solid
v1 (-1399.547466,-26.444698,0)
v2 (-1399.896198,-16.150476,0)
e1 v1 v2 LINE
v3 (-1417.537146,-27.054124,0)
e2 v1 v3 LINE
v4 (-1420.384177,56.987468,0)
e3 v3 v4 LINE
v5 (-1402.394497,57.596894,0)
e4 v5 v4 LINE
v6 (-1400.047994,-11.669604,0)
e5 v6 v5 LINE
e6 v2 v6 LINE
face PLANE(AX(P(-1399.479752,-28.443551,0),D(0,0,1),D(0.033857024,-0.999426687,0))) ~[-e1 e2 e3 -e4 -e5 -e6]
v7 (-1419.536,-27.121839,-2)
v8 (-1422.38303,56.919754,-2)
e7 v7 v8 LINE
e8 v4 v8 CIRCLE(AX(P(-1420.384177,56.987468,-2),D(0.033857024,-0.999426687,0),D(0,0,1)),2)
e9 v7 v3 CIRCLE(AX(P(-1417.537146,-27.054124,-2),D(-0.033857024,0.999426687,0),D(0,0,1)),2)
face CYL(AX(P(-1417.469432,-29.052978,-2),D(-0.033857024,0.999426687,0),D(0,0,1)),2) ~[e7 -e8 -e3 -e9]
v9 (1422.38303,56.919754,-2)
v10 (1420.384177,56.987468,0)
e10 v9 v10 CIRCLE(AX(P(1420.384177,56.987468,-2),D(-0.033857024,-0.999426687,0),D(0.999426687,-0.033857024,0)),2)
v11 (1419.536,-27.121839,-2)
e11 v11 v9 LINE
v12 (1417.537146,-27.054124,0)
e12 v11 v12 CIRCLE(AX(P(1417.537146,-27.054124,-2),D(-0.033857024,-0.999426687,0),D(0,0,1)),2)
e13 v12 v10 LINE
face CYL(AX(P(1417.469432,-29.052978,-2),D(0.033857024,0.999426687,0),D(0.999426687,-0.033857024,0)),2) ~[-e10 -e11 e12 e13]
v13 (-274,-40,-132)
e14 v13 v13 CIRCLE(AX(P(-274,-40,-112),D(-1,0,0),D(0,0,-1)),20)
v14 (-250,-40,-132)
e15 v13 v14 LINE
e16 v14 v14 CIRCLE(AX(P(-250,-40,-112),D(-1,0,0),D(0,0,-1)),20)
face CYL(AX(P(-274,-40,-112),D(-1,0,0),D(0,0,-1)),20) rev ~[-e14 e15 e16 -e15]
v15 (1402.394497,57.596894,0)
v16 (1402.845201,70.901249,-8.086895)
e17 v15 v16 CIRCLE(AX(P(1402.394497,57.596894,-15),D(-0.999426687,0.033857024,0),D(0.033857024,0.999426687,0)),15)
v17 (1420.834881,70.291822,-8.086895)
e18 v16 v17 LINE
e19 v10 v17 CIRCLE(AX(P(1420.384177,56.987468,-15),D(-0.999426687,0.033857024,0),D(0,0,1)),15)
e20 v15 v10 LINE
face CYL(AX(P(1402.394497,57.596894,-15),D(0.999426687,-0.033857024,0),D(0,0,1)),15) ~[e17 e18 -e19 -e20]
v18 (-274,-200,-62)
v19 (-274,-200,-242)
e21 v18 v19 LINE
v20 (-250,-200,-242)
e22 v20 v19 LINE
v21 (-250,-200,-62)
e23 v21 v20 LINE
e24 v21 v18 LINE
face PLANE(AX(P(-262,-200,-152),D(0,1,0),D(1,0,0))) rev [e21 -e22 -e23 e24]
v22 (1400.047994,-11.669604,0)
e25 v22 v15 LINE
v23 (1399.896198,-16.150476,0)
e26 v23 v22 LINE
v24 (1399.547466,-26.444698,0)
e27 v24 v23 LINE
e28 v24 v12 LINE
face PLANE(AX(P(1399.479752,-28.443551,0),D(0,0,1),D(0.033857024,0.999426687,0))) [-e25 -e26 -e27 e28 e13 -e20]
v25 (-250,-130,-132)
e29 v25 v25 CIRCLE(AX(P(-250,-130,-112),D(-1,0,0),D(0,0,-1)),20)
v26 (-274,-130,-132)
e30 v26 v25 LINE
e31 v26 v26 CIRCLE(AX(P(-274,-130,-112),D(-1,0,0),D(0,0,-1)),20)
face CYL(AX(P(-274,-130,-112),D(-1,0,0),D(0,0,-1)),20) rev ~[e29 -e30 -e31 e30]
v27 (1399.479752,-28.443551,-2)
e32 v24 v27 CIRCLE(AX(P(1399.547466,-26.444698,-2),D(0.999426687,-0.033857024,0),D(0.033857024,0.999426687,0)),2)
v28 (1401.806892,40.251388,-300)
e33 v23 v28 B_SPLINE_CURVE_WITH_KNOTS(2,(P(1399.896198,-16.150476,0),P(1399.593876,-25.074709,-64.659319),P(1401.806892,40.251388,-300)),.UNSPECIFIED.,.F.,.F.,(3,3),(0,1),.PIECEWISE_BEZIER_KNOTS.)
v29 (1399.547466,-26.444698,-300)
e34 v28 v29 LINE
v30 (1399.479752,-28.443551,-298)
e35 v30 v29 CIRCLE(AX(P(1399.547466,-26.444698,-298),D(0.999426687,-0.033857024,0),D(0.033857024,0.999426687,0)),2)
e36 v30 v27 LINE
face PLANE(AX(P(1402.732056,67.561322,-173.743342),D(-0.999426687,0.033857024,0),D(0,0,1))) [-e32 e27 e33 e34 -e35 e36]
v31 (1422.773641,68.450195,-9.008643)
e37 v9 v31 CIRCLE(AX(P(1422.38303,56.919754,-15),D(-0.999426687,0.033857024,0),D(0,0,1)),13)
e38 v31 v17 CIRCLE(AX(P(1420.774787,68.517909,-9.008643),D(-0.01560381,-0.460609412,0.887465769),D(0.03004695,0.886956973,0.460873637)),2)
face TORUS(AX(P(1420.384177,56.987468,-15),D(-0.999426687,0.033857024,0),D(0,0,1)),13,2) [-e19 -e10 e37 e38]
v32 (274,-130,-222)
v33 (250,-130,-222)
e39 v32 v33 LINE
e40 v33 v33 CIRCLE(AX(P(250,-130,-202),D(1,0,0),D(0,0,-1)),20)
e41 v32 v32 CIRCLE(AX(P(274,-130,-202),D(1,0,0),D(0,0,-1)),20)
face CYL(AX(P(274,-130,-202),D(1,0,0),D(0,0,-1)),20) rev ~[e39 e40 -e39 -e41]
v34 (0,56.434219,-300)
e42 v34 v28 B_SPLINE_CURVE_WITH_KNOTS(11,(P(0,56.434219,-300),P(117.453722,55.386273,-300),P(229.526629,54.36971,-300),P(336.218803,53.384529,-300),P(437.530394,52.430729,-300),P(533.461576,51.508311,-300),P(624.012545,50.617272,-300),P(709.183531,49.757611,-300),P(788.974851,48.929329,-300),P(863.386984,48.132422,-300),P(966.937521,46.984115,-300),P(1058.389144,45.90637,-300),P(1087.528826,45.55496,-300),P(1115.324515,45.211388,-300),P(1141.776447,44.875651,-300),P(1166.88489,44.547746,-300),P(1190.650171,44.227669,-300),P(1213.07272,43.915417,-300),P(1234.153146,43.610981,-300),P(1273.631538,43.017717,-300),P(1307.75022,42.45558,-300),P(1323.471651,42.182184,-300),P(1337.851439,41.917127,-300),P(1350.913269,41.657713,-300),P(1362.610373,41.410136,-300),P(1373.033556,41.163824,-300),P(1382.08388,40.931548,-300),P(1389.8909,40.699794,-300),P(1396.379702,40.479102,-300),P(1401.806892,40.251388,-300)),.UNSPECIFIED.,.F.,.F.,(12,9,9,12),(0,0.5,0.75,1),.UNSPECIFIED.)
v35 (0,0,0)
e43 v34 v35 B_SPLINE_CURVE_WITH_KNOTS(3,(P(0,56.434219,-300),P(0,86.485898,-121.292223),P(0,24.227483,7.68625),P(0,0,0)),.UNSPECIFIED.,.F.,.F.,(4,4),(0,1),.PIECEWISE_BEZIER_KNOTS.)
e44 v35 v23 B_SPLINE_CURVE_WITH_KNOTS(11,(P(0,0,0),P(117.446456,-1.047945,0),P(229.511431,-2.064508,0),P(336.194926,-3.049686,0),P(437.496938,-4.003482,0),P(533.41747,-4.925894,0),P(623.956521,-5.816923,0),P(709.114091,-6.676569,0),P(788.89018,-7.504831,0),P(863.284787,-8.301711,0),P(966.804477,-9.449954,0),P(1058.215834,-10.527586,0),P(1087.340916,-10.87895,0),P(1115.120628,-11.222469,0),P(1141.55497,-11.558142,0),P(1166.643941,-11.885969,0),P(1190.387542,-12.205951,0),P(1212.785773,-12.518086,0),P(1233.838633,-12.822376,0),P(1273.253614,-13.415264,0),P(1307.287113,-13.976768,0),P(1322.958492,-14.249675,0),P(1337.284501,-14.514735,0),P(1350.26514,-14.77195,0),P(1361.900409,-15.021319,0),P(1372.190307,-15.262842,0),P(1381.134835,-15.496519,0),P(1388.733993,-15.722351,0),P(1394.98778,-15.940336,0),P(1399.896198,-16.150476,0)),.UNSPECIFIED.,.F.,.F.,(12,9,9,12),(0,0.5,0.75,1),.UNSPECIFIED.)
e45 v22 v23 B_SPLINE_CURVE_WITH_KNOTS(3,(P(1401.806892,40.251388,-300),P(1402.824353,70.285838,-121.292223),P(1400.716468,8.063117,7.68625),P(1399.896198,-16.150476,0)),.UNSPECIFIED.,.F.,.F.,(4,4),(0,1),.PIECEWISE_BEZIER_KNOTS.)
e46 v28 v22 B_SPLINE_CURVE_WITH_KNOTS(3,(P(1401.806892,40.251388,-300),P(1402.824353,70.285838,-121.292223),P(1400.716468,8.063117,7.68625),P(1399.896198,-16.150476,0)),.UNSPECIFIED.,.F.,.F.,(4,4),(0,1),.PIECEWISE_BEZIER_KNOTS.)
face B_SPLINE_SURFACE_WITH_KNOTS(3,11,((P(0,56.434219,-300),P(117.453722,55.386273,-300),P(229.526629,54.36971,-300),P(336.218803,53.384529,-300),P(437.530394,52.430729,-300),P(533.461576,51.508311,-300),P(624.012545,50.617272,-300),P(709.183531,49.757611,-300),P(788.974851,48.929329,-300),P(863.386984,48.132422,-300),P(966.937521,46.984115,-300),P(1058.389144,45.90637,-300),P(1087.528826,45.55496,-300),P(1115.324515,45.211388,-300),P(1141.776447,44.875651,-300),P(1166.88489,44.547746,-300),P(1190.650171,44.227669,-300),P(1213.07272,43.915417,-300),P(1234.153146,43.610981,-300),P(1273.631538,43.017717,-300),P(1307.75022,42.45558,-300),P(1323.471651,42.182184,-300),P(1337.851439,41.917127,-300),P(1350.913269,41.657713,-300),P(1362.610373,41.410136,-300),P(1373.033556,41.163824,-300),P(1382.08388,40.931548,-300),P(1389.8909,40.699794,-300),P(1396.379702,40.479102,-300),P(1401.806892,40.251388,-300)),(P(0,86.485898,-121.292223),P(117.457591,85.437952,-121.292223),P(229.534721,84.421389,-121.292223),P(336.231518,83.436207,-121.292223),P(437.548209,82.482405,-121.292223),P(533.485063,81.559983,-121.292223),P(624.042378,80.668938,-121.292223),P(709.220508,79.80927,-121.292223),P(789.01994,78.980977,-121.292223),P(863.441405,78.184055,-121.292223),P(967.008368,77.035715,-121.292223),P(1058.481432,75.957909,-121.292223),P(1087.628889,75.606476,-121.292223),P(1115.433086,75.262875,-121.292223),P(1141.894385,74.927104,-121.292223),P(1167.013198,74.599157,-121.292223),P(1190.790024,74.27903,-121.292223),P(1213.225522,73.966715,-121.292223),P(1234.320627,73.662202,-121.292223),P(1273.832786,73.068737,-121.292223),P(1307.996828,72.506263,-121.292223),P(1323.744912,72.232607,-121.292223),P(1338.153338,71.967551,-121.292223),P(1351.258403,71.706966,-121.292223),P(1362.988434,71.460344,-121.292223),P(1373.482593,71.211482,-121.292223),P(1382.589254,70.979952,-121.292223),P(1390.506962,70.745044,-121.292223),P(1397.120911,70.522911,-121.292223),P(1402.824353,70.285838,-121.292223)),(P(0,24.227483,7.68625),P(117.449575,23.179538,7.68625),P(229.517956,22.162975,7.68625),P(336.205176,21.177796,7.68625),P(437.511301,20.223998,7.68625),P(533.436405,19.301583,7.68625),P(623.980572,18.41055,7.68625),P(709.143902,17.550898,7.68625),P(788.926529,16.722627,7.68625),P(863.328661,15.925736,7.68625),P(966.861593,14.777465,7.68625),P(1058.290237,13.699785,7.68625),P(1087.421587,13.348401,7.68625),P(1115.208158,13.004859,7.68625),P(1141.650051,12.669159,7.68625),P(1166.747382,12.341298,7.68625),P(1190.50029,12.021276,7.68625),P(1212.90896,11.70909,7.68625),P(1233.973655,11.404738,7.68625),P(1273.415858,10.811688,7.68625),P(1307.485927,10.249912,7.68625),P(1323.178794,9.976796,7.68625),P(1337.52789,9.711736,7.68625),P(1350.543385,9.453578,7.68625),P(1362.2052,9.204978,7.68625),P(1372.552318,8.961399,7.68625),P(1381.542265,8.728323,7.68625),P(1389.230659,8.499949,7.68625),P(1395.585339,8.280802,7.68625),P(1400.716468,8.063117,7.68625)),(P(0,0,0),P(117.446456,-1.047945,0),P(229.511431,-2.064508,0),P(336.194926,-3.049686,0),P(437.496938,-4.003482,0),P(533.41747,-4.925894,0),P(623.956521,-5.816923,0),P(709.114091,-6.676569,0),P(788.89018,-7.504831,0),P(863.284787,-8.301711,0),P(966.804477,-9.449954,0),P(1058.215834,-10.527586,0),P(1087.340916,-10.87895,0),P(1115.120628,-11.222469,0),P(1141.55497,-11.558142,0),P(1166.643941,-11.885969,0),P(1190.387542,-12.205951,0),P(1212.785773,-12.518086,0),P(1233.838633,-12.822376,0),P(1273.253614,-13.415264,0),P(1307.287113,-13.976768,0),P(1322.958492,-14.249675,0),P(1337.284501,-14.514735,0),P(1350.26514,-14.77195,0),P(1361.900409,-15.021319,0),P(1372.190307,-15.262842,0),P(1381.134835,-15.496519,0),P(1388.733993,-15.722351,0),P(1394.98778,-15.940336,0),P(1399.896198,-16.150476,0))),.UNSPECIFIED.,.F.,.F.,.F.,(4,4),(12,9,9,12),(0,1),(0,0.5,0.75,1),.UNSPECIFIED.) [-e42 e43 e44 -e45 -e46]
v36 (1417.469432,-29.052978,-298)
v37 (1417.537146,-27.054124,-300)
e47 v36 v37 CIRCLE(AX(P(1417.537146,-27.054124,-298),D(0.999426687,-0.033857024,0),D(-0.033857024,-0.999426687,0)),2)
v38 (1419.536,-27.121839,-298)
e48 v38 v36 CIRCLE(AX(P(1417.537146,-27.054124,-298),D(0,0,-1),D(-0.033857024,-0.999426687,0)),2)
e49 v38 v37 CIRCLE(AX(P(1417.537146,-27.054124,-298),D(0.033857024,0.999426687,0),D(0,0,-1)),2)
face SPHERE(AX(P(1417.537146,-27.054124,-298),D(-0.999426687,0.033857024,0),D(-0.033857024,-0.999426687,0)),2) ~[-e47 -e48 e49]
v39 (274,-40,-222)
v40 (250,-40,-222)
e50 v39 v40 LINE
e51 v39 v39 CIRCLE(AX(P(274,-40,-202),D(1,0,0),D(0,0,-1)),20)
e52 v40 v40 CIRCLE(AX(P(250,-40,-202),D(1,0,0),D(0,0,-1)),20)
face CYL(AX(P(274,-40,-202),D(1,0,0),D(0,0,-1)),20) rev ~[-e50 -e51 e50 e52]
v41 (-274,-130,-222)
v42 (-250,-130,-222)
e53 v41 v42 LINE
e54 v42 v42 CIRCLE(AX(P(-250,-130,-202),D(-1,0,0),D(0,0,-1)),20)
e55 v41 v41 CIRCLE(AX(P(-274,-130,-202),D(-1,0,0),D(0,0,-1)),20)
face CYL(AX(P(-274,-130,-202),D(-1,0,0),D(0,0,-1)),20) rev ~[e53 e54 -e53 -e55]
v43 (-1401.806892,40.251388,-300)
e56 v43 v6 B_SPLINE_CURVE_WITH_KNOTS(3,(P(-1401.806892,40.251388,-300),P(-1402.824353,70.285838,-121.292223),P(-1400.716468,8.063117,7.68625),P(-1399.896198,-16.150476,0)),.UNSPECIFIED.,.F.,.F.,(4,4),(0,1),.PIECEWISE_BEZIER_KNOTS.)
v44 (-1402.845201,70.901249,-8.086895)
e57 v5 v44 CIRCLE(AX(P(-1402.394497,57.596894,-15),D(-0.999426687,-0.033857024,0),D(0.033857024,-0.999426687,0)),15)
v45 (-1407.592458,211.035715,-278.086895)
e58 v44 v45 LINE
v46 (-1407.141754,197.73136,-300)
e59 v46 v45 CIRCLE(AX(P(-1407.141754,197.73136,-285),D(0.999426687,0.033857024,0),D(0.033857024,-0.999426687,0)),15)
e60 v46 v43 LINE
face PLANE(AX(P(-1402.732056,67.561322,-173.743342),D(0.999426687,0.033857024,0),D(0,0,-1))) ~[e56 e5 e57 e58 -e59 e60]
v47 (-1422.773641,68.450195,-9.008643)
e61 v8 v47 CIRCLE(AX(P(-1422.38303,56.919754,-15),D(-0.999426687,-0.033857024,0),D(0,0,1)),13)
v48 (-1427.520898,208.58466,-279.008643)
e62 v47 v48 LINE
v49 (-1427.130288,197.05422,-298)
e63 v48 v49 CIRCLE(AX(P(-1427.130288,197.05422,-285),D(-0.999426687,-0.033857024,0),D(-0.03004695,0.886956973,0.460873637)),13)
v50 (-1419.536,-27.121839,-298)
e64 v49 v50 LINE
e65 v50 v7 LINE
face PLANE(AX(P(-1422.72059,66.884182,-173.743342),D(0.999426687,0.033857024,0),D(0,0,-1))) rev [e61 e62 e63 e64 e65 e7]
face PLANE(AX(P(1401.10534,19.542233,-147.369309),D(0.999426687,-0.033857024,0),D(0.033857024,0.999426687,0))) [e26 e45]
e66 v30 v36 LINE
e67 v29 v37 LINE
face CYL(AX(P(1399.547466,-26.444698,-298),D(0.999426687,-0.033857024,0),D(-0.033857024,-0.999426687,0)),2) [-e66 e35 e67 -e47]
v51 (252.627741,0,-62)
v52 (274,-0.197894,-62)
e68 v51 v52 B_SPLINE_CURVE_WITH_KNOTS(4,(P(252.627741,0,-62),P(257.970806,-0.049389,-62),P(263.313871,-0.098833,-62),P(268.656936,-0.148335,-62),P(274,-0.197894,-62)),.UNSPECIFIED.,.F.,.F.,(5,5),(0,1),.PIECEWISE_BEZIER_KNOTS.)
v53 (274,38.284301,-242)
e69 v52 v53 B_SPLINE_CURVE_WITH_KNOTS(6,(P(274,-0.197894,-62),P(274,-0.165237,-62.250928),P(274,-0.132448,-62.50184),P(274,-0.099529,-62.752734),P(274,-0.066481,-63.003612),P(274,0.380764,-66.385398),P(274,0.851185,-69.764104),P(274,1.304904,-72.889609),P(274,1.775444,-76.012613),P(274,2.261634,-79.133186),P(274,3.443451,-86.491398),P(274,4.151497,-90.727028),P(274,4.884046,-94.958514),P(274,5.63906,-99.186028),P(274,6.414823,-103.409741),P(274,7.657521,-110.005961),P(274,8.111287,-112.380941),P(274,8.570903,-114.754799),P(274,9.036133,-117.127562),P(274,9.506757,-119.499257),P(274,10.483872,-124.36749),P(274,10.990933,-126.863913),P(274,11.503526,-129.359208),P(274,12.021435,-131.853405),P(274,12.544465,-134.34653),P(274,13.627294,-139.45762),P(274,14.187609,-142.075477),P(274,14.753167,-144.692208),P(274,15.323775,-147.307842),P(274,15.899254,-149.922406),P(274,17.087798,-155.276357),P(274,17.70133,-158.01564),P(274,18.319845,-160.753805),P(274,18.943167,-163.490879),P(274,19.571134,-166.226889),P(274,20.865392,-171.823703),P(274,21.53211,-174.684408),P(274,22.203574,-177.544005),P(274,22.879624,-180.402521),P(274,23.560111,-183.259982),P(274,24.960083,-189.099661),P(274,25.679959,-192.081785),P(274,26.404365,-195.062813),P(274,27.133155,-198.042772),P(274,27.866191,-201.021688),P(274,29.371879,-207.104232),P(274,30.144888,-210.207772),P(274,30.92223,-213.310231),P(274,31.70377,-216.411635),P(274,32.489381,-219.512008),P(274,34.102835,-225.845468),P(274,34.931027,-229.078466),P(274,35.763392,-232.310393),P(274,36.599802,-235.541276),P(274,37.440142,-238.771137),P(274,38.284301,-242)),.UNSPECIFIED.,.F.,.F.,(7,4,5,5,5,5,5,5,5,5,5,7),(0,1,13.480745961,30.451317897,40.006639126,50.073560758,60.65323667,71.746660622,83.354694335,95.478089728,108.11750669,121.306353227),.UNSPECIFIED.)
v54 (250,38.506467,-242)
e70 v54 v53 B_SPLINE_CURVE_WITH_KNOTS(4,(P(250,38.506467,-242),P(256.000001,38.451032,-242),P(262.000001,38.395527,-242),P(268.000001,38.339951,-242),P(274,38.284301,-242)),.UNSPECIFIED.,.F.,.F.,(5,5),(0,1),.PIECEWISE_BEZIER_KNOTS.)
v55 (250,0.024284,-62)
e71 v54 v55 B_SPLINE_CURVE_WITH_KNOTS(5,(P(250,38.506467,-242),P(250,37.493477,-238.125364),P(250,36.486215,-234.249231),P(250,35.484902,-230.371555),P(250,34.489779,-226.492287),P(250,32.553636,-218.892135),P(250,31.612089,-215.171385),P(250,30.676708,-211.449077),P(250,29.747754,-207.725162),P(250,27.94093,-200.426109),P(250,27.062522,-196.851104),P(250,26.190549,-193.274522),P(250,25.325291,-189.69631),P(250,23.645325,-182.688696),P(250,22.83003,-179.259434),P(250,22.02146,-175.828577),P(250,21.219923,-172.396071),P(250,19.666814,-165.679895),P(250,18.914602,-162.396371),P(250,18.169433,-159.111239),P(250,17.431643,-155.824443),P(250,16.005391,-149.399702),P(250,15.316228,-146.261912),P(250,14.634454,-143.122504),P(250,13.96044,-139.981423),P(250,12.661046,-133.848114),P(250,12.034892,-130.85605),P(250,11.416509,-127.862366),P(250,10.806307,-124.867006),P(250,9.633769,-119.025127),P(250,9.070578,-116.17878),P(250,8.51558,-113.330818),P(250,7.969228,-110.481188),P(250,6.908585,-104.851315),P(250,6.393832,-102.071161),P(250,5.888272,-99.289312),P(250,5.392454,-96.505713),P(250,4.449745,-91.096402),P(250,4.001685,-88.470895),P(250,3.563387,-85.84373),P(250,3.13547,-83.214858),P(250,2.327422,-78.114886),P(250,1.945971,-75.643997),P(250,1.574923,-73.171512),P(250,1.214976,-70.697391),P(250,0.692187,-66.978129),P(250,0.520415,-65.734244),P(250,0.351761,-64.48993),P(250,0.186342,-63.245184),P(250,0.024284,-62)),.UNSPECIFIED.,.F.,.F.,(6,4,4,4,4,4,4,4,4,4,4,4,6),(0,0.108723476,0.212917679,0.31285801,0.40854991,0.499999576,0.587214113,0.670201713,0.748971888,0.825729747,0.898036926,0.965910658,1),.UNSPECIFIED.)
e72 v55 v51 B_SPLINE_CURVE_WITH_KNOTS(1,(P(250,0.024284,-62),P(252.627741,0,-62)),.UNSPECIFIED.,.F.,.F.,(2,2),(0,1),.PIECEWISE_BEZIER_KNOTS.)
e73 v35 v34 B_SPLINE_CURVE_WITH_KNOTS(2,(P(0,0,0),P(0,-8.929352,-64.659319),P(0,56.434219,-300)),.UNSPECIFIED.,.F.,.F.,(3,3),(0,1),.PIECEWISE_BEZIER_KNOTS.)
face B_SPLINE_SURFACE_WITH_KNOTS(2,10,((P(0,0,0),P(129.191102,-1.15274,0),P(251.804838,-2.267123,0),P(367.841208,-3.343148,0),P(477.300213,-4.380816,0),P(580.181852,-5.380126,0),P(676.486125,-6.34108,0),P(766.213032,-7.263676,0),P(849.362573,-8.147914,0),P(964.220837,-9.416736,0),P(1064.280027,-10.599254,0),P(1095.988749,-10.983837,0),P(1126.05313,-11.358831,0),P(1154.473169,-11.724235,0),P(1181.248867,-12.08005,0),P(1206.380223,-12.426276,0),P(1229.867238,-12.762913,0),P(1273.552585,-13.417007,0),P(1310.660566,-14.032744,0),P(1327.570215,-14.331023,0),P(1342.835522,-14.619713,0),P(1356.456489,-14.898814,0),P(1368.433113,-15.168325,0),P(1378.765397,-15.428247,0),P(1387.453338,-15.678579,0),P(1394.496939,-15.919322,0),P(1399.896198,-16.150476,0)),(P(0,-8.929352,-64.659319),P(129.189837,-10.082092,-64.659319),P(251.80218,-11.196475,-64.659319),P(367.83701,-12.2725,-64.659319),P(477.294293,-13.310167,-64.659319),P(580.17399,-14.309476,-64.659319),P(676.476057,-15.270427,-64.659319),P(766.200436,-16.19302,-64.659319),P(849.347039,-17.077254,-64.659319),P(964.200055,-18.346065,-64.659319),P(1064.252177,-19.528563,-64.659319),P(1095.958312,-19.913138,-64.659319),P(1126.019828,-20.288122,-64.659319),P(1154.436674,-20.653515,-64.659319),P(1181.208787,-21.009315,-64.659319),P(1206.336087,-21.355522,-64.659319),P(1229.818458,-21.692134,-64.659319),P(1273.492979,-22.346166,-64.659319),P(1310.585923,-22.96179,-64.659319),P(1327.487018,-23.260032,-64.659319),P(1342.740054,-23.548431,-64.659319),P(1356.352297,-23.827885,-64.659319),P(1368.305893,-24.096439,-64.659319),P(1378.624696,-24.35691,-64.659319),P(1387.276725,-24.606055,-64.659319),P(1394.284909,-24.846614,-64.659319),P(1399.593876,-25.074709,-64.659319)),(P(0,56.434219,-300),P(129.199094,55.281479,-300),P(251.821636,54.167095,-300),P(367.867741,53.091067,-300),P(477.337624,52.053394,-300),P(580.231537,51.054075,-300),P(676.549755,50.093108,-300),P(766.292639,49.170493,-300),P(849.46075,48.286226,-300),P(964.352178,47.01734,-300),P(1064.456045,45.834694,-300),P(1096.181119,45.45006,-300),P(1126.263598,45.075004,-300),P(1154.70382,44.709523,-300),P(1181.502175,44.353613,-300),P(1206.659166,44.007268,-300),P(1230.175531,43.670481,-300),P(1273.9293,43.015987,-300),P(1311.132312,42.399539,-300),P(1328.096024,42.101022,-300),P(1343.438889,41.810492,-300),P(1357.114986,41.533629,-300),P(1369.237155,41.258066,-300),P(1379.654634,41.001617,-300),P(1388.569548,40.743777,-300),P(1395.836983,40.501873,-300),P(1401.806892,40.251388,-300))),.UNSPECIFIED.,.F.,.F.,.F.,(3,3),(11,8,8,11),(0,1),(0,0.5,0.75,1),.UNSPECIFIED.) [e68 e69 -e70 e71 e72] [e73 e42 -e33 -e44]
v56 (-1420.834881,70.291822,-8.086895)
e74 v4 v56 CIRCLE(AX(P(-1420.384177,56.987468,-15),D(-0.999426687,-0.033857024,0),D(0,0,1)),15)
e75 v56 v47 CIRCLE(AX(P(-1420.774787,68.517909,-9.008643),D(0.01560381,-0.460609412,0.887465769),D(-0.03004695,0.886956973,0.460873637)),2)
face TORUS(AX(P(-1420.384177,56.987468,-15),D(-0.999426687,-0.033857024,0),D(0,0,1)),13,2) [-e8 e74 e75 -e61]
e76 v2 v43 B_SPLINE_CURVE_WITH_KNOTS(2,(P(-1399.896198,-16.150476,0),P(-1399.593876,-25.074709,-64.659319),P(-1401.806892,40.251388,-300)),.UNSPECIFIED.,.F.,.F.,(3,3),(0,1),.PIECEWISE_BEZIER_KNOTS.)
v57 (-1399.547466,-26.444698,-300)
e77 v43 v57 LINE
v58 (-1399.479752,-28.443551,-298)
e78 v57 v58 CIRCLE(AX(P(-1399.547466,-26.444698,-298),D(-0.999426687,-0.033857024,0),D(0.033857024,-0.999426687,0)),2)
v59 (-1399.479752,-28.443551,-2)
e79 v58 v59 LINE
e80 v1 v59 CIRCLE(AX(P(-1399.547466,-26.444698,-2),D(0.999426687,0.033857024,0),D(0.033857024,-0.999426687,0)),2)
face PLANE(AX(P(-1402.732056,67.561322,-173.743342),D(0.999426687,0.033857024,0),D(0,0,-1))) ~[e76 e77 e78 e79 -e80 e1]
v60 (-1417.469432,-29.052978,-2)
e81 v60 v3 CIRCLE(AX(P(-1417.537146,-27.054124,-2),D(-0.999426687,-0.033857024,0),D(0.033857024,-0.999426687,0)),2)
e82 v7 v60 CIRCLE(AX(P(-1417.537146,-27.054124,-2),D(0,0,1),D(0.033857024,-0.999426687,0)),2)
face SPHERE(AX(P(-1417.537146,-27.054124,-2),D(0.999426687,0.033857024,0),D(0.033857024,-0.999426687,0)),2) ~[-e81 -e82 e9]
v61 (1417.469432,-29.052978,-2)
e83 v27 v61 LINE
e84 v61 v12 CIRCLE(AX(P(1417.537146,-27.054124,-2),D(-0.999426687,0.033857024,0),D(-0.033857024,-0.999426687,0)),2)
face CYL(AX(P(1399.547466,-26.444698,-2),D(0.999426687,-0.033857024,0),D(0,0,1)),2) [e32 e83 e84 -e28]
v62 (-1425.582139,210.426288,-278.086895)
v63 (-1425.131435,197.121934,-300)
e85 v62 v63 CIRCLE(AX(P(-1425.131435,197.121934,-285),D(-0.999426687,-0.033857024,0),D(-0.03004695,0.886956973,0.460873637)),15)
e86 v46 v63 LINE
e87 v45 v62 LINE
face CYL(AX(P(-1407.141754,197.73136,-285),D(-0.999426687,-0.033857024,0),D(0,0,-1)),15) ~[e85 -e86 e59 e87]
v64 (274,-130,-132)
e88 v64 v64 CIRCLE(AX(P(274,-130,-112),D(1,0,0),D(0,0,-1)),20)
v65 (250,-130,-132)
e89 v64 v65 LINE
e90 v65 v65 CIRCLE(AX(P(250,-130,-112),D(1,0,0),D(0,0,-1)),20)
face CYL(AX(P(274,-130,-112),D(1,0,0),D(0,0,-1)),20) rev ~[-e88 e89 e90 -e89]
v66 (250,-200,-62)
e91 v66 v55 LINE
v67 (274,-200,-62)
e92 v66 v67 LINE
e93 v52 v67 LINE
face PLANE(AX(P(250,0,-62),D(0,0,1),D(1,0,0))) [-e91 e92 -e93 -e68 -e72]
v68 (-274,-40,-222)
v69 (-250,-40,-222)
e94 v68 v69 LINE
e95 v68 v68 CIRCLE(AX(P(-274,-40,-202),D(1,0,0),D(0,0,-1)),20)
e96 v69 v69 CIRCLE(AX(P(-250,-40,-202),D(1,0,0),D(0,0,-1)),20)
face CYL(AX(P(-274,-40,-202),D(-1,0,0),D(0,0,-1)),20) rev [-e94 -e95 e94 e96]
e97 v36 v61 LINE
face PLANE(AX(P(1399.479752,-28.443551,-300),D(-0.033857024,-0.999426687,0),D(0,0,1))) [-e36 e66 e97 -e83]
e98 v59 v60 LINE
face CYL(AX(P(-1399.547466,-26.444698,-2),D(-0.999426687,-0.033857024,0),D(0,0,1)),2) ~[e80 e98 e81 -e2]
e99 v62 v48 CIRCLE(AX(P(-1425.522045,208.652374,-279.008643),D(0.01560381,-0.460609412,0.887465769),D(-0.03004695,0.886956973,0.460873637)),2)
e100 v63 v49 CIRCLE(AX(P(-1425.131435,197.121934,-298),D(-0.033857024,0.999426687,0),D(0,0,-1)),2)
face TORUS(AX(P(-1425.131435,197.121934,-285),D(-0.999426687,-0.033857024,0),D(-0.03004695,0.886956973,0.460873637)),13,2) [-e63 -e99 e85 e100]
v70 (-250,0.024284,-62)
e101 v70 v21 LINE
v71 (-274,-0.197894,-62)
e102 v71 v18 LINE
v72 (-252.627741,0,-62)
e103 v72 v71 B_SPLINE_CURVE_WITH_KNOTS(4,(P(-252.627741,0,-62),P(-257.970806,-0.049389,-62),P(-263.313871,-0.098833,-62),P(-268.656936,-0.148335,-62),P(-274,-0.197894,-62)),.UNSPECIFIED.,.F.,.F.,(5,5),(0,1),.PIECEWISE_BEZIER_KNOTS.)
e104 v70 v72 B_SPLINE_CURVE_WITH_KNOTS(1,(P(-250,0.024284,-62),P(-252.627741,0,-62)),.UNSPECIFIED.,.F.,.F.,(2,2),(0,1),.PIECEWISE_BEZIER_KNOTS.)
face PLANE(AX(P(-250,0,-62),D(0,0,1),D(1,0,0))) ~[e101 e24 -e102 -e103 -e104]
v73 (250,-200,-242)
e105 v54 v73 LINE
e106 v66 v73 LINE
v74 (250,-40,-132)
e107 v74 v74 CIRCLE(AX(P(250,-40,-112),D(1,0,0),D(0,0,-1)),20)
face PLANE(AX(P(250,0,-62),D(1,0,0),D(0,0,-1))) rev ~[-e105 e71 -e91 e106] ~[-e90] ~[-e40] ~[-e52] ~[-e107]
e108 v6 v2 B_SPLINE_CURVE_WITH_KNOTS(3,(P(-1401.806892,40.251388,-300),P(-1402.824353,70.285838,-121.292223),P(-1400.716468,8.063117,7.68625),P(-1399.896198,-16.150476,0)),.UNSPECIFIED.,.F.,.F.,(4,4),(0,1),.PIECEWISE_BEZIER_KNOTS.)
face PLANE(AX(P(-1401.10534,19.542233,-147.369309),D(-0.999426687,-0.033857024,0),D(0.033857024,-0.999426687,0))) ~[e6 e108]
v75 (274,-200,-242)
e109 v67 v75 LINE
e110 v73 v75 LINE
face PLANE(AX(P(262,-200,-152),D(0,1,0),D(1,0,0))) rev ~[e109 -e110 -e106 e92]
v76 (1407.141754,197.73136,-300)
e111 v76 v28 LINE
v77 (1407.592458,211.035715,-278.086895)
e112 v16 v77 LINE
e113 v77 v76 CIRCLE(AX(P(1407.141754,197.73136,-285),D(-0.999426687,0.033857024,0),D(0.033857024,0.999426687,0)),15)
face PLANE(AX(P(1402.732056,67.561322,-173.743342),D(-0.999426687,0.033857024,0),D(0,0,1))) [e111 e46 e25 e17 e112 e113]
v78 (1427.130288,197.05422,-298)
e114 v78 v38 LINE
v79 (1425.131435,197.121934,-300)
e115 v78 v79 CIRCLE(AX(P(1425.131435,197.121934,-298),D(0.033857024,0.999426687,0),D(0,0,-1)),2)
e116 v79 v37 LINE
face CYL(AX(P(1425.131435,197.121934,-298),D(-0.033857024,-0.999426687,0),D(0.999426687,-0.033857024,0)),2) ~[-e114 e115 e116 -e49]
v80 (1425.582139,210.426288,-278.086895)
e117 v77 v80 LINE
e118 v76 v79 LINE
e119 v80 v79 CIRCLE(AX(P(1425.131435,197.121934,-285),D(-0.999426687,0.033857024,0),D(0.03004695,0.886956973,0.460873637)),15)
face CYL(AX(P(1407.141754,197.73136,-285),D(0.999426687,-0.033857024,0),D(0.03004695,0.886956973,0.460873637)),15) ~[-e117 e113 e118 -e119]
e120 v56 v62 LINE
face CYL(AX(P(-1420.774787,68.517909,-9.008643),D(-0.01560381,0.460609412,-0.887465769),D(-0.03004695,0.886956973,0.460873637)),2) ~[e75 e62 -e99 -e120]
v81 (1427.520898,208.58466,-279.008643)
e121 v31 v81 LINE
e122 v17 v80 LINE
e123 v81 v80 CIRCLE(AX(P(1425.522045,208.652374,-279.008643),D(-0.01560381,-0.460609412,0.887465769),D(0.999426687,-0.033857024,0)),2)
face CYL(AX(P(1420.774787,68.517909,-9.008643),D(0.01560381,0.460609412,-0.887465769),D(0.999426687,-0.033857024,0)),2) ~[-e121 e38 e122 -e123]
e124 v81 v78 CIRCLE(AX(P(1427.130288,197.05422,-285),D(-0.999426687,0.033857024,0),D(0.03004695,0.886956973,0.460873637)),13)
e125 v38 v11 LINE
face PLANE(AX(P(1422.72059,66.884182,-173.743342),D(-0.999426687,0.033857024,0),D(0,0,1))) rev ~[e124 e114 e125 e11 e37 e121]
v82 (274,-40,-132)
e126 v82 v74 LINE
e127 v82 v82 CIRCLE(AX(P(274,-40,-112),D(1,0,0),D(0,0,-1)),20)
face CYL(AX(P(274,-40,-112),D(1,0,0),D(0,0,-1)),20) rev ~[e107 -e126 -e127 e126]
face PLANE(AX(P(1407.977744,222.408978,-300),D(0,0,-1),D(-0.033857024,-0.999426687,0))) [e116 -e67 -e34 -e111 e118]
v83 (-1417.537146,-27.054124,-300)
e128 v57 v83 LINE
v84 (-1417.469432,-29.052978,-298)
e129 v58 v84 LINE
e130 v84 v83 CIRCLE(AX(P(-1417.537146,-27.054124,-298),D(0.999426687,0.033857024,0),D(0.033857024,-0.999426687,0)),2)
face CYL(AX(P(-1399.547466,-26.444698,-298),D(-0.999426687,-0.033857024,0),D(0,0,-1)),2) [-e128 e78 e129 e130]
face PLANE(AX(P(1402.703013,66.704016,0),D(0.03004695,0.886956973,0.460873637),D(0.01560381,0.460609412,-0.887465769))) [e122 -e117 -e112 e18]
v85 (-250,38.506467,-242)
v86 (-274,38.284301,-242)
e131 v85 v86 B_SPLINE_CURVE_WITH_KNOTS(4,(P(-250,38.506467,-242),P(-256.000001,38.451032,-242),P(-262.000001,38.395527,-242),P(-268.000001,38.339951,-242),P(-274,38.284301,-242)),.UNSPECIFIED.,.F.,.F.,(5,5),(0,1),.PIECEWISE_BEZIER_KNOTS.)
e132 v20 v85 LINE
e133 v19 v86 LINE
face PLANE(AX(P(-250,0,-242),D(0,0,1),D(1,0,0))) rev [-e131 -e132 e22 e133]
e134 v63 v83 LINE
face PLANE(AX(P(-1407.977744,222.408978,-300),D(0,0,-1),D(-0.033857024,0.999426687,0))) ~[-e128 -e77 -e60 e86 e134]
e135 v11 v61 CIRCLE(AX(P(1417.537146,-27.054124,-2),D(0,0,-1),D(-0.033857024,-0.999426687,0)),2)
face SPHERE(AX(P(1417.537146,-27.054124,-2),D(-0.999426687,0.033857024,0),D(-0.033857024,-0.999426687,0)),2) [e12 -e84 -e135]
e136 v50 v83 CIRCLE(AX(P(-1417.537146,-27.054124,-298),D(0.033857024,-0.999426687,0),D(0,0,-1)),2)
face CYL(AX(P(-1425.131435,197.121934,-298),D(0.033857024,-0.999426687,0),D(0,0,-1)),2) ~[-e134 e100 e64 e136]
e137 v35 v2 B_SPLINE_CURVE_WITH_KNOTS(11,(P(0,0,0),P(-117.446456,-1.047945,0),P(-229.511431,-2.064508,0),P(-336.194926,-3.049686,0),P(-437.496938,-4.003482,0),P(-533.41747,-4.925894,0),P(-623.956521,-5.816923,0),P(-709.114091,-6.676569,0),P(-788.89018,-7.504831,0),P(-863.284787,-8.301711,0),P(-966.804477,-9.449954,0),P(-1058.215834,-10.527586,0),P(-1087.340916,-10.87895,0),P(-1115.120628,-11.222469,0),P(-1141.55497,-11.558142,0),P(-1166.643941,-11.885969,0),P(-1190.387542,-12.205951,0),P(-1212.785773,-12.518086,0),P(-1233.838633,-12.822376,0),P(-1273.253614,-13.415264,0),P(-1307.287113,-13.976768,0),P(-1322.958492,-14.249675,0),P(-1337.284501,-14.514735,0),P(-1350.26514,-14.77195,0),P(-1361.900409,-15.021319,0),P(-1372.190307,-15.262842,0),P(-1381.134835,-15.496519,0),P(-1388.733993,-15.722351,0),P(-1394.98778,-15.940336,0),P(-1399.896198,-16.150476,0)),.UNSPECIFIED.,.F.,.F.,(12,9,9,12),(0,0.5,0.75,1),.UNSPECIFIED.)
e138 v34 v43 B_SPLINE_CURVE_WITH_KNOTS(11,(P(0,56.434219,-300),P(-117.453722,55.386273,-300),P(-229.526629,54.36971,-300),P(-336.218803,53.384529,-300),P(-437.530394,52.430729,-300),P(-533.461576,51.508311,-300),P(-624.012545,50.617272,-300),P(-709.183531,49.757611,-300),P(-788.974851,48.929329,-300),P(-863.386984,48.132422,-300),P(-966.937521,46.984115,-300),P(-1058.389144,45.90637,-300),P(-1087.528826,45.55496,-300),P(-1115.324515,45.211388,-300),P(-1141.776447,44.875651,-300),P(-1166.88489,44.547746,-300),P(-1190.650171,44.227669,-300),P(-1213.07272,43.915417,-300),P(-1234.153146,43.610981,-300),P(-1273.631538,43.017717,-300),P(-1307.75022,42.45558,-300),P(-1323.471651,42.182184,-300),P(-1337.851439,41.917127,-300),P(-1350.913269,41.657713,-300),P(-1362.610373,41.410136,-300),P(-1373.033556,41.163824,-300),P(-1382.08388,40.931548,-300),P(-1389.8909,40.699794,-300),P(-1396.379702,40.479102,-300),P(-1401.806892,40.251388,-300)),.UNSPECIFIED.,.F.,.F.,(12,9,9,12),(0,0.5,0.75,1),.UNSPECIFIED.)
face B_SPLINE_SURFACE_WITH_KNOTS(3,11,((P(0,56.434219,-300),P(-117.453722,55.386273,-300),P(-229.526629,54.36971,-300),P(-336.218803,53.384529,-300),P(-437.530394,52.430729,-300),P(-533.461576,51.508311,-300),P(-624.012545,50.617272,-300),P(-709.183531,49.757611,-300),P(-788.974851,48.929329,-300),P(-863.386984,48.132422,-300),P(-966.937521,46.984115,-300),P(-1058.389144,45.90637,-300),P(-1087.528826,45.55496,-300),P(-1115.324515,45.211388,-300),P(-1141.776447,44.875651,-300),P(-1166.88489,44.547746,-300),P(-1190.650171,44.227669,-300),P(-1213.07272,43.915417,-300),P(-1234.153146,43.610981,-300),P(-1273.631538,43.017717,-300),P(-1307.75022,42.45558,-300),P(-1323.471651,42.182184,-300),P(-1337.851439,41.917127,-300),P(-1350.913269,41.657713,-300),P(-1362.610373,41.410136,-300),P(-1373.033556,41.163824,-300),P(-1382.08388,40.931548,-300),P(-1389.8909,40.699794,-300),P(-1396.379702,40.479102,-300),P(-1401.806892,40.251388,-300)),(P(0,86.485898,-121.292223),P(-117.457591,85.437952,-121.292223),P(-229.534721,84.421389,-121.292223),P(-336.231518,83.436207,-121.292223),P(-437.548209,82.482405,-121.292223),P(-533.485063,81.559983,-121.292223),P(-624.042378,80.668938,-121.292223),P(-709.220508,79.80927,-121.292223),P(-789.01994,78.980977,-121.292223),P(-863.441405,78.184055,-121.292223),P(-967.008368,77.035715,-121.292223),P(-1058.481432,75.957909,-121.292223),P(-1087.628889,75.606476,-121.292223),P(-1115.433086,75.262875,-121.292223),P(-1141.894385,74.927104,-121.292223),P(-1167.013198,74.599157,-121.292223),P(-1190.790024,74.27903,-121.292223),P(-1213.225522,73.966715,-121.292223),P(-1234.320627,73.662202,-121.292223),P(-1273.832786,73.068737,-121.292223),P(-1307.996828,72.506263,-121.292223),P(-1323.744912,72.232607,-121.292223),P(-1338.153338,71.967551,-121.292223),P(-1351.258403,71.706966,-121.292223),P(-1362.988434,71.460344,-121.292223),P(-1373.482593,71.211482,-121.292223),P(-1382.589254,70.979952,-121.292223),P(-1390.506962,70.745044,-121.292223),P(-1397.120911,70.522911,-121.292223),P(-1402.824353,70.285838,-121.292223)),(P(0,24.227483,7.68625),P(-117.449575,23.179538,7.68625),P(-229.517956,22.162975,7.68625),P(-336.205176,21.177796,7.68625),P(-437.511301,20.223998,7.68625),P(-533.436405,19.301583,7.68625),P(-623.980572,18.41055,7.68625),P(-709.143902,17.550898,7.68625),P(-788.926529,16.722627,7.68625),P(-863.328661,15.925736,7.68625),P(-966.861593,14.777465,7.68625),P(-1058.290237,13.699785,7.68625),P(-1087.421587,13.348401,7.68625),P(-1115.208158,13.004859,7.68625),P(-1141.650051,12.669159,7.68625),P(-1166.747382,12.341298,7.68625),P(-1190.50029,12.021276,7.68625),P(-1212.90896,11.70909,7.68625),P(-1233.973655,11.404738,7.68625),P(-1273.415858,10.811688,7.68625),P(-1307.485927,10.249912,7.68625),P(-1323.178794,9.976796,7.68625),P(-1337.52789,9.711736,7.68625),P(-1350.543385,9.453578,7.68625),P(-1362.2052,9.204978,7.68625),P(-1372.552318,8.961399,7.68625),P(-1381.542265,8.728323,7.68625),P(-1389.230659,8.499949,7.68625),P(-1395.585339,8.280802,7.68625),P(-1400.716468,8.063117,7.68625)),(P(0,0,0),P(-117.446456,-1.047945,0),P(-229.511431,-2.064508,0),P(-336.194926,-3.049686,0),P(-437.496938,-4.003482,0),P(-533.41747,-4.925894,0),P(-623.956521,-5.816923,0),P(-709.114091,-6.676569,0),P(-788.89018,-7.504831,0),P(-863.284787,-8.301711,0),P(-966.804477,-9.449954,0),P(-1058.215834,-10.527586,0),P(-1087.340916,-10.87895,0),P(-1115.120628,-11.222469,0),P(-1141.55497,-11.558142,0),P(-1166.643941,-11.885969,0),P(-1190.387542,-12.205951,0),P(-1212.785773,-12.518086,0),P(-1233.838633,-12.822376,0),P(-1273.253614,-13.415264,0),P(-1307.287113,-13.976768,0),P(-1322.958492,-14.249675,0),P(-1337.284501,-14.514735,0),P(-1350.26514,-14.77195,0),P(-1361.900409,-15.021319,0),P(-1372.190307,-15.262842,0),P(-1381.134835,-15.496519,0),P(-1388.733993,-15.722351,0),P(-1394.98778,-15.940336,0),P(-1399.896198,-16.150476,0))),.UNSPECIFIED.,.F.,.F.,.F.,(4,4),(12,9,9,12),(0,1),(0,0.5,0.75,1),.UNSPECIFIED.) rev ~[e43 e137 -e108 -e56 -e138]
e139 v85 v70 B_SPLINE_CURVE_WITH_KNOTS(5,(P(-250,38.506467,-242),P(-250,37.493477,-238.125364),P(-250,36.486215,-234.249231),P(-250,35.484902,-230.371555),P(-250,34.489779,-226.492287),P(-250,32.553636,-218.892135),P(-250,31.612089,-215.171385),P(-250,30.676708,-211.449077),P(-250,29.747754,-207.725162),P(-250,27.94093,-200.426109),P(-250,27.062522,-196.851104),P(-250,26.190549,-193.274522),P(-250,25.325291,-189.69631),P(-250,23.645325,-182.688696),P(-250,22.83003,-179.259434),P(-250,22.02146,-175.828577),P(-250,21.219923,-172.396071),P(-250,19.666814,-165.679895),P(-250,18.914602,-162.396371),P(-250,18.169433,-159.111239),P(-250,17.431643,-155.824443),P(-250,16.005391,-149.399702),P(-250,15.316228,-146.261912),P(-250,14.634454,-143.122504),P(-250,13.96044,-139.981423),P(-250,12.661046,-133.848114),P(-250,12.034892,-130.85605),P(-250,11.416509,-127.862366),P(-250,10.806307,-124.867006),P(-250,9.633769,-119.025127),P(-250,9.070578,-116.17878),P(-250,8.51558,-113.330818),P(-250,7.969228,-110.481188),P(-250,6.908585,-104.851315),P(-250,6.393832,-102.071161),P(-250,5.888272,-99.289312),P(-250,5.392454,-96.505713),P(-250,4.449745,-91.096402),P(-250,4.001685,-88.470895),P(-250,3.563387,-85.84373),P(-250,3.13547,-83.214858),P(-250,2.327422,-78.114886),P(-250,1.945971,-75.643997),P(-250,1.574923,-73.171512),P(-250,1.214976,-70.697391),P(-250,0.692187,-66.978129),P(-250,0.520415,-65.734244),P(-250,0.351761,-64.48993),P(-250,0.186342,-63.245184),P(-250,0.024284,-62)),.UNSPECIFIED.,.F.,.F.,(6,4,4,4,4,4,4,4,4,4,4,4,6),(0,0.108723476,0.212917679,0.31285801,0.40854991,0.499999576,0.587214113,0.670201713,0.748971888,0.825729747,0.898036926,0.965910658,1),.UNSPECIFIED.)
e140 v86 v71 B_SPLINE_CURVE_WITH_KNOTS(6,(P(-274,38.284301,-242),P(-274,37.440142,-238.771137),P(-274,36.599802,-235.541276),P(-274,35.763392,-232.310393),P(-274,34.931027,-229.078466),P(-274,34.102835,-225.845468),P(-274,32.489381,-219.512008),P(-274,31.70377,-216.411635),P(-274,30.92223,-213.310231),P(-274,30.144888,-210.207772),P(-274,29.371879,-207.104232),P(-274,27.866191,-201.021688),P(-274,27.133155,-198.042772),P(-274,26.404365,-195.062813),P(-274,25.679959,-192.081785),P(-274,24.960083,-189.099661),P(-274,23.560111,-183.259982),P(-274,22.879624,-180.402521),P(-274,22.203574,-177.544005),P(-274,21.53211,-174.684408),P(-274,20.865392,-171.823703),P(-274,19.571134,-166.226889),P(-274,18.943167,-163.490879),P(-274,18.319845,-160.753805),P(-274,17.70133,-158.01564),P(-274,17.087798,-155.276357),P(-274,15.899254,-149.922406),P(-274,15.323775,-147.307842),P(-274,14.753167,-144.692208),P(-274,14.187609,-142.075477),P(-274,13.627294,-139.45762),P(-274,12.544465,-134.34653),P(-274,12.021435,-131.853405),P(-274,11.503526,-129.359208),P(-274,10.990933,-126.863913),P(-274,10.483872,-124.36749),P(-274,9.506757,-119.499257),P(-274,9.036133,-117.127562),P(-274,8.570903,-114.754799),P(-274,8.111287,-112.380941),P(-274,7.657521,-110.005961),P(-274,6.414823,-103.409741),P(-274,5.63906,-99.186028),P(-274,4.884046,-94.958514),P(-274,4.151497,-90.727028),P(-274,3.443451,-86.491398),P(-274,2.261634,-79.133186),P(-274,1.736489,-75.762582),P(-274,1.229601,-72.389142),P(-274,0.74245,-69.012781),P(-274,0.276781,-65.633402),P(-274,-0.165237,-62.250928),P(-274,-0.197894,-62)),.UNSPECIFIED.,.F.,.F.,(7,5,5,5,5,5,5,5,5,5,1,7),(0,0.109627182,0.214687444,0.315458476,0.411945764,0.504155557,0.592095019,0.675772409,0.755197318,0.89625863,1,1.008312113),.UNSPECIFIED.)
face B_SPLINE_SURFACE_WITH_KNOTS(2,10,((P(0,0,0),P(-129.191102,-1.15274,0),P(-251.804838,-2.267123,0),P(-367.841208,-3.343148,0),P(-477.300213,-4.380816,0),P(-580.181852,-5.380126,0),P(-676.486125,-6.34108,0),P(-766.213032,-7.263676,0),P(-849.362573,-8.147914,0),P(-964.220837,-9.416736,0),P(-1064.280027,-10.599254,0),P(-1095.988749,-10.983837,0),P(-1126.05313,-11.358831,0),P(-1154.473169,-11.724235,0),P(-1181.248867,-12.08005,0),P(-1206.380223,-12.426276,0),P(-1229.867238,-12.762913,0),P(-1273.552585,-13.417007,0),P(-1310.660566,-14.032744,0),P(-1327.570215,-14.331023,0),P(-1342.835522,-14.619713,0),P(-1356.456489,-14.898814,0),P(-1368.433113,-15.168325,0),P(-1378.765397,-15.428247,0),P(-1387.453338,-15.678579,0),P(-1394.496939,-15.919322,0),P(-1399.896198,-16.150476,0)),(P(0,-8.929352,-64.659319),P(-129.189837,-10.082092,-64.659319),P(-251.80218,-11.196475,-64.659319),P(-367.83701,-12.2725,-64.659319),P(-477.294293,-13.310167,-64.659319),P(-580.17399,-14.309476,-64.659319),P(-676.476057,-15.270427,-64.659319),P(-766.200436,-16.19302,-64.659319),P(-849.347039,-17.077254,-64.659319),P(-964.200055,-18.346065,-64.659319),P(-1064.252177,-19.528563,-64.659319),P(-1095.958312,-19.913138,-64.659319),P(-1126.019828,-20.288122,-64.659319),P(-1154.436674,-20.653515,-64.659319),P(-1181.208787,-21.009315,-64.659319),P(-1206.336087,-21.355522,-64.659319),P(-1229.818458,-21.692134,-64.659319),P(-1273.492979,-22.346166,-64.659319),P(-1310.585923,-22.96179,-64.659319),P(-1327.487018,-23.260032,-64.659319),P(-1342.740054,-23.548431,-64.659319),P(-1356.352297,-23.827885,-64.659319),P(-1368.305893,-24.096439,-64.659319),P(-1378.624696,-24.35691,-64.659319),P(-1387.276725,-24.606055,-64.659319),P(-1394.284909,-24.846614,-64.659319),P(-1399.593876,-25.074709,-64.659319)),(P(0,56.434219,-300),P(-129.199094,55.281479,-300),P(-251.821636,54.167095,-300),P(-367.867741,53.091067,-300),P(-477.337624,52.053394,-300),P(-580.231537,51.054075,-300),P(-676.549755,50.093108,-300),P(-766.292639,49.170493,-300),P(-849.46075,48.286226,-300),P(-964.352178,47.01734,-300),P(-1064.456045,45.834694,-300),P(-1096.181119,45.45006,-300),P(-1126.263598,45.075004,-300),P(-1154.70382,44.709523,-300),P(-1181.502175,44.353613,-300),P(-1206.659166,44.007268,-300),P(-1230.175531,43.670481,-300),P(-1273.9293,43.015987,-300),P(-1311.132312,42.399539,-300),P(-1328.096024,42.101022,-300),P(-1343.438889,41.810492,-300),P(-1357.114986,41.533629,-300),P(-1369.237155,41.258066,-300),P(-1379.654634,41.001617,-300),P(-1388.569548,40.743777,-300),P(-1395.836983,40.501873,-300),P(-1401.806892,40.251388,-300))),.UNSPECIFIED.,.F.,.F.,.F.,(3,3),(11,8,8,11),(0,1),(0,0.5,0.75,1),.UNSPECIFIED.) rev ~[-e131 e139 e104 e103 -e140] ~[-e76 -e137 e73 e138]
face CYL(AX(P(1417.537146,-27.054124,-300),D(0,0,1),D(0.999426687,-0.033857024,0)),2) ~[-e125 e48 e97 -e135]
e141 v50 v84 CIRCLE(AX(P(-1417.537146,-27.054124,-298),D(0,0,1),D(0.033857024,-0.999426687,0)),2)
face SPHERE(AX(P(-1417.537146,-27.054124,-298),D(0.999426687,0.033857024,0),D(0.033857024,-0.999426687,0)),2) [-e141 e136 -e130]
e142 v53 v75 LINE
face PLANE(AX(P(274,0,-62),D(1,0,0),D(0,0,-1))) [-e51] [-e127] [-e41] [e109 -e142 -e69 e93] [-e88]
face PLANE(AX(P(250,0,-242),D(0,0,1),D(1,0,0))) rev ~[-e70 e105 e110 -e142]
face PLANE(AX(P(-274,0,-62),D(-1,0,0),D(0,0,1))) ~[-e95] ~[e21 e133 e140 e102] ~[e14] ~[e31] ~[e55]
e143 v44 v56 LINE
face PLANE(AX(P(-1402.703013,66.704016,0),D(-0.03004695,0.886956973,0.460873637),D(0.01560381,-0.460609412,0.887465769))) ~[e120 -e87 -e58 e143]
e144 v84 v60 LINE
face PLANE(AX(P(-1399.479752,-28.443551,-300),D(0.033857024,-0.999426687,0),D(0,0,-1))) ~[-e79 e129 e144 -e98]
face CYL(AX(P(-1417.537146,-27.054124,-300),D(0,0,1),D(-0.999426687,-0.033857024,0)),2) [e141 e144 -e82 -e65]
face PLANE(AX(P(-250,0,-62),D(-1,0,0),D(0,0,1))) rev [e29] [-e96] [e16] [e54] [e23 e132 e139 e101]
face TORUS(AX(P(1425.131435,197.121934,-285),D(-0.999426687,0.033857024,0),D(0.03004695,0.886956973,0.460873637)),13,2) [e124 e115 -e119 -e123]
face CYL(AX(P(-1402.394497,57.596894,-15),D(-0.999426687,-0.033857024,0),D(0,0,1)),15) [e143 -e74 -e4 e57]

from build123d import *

# Parameters (mm, degrees)
BOSS_EXTRUDE1_DEPTH             = 20
FILLET1_R                       = 15
FILLET2_R                       = 2
BOSS_EXTRUDE2_REACH             = 1476.182
SKETCH8_W                       = 24
SKETCH8_H                       = 180
BOSS_EXTRUDE2_DIRECTION_2_DEPTH = 200
CUT_EXTRUDE1_REACH              = 1212.776
SKETCH9_R                       = 20
LPATTERN1_COUNT                 = 2
LPATTERN1_PITCH                 = 90
LPATTERN1_COUNT_DIR2            = 2
LPATTERN1_PITCH_DIR2            = 90
MIRROR1_COPY_1_REACH            = 1212.776
MIRROR1_COPY_1_SKETCH_R         = 20
MIRROR1_COPY_2_REACH            = 1212.776
MIRROR1_COPY_2_SKETCH_R         = 20
MIRROR1_COPY_3_REACH            = 1212.776
MIRROR1_COPY_3_SKETCH_R         = 20
FILLET1_OF_MIRROR1_R            = 15
FILLET2_OF_MIRROR1_R            = 2


with BuildPart() as part:
    # Sweep1: sweep along a path in Sketch2
    with BuildLine() as sweep1_path:  # in the path sketch's own coordinates; laid on its plane below (add() does not lay a ready-made edge on the line's plane)
        add(Edge.make_bspline(
            [(0, 0), (1291.911018877, -11.527399936), (1399.896197675, -16.150476282)],
            knots=[0, 0, 0, 1, 1, 1], degree=2))
    # Sketch1 → Sweep1 (sweep)
    with BuildSketch(Plane(origin=(0, 0, 0), x_dir=(0, 0, -1), z_dir=(1, 0, 0))):
        with BuildLine():
            add(Edge.make_bspline(
                [(0, 0), (-7.6862496, 24.227483369), (121.292223463, 86.485897887), (300, 56.434218629)],
                knots=[0, 0, 0, 0, 1, 1, 1, 1], degree=3))
            add(Edge.make_bspline(
                [(0, 0), (64.659318744, -8.929352198), (300, 56.434218629)],
                knots=[0, 0, 0, 1, 1, 1], degree=2))
        make_face()
    sweep1 = sweep(path=Plane.XY * sweep1_path.line)

    # Sketch7 → Boss-Extrude1 (add)
    with BuildSketch(Plane(origin=(1398.837992904, -47.387659952, 0), x_dir=(0, 0, -1), z_dir=(0.99942668660733, -0.0338570243390299, 0))):
        Polygon((0, 18.954975692), (0, 114.157124207), (300, 269.951405066), (300, 18.954975692), align=None)
    boss_extrude1 = extrude(amount=BOSS_EXTRUDE1_DEPTH)

    # Fillet1
    fillet1_edges = [part.edges().sort_by_distance(p)[0] for p in [
        (1417.972011062, 222.070408114, -300),
        (1412.697280303, 66.365446203, 0),
    ]]
    fillet(fillet1_edges, radius=FILLET1_R)

    # Fillet2
    fillet2_edges = [part.edges().sort_by_distance(p)[0] for p in [
        (1409.474018844, -28.782121645, 0),
        (1409.474018844, -28.782121645, -300),
        (1419.46828571, -29.120691888, -150),
        (1423.299286815, 83.966763846, -300),
        (1425.207363331, 140.291341308, -143.08689544),
        (1420.925657974, 13.899530985, 0),
        (1422.646706073, 64.703210087, -2.180160524),
        (1427.564329538, 209.86670927, -292.787921147),
    ]]
    fillet(fillet2_edges, radius=FILLET2_R)

    # Sketch8 → Boss-Extrude2 (add, up to next)
    with BuildSketch(Plane(origin=(0, 0, 0), x_dir=(1, 0, 0), z_dir=(0, 1, 0)), mode=Mode.PRIVATE) as boss_extrude2_sk1:
        with Locations((262, 152)):
            Rectangle(SKETCH8_W, SKETCH8_H)
    boss_extrude2_tool1 = extrude(boss_extrude2_sk1.sketch, amount=BOSS_EXTRUDE2_REACH, mode=Mode.PRIVATE) - part.part
    boss_extrude2 = boss_extrude2_tool1.solids().sort_by_distance((262, 0, -152))[0]
    add(boss_extrude2)

    # Sketch8 → Boss-Extrude2 direction 2 (add)
    with BuildSketch(Plane(origin=(0, 0, 0), x_dir=(1, 0, 0), z_dir=(0, 1, 0))):
        with Locations((262, 152)):
            Rectangle(SKETCH8_W, SKETCH8_H)
    boss_extrude2_direction_2 = extrude(amount=-BOSS_EXTRUDE2_DIRECTION_2_DEPTH)

    # Sketch9 → Cut-Extrude1 (cut, up to next)
    with BuildSketch(Plane(origin=(274, 0, 0), x_dir=(0, 0, -1), z_dir=(1, 0, 0)), mode=Mode.PRIVATE) as cut_extrude1_sk1:
        with Locations((202, -40)):
            Circle(SKETCH9_R)
    cut_extrude1_tool1 = extrude(cut_extrude1_sk1.sketch, amount=-CUT_EXTRUDE1_REACH, mode=Mode.PRIVATE) & part.part
    cut_extrude1 = cut_extrude1_tool1.solids().sort_by_distance((274, -40, -202))[0]
    add(cut_extrude1, mode=Mode.SUBTRACT)

    # LPattern1: Cut-Extrude1 2 × 2
    with Locations(*[(0, -i * LPATTERN1_PITCH, j * LPATTERN1_PITCH_DIR2) for i in range(LPATTERN1_COUNT) for j in range(LPATTERN1_COUNT_DIR2) if (i, j) != (0, 0)]):
        add(cut_extrude1, mode=Mode.SUBTRACT)

    # Mirror1: Sweep1, Boss-Extrude1, Boss-Extrude2, Boss-Extrude2 direction 2, Cut-Extrude1 across plane
    add(sweep1.mirror(Plane(origin=(0, 0, 0), x_dir=(0, 0, 1), z_dir=(1, 0, 0))))
    add(boss_extrude1.mirror(Plane(origin=(0, 0, 0), x_dir=(0, 0, 1), z_dir=(1, 0, 0))))
    add(boss_extrude2.mirror(Plane(origin=(0, 0, 0), x_dir=(0, 0, 1), z_dir=(1, 0, 0))))
    add(boss_extrude2_direction_2.mirror(Plane(origin=(0, 0, 0), x_dir=(0, 0, 1), z_dir=(1, 0, 0))))
    add(cut_extrude1.mirror(Plane(origin=(0, 0, 0), x_dir=(0, 0, 1), z_dir=(1, 0, 0))), mode=Mode.SUBTRACT)

    # Mirror1 copy 1 sketch → Mirror1 copy 1 (cut, up to next)
    with BuildSketch(Plane(origin=(-274, 0, 90), x_dir=(0, 0, -1), z_dir=(-1, 0, 0)), mode=Mode.PRIVATE) as mirror1_copy_1_sk1:
        with Locations((202, 40)):
            Circle(MIRROR1_COPY_1_SKETCH_R)
    mirror1_copy_1_tool1 = extrude(mirror1_copy_1_sk1.sketch, amount=-MIRROR1_COPY_1_REACH, mode=Mode.PRIVATE) & part.part
    add(mirror1_copy_1_tool1.solids().sort_by_distance((-274, -40, -112))[0], mode=Mode.SUBTRACT)

    # Mirror1 copy 2 sketch → Mirror1 copy 2 (cut, up to next)
    with BuildSketch(Plane(origin=(-274, -90, 0), x_dir=(0, 0, -1), z_dir=(-1, 0, 0)), mode=Mode.PRIVATE) as mirror1_copy_2_sk1:
        with Locations((202, 40)):
            Circle(MIRROR1_COPY_2_SKETCH_R)
    mirror1_copy_2_tool1 = extrude(mirror1_copy_2_sk1.sketch, amount=-MIRROR1_COPY_2_REACH, mode=Mode.PRIVATE) & part.part
    add(mirror1_copy_2_tool1.solids().sort_by_distance((-274, -130, -202))[0], mode=Mode.SUBTRACT)

    # Mirror1 copy 3 sketch → Mirror1 copy 3 (cut, up to next)
    with BuildSketch(Plane(origin=(-274, -90, 90), x_dir=(0, 0, -1), z_dir=(-1, 0, 0)), mode=Mode.PRIVATE) as mirror1_copy_3_sk1:
        with Locations((202, 40)):
            Circle(MIRROR1_COPY_3_SKETCH_R)
    mirror1_copy_3_tool1 = extrude(mirror1_copy_3_sk1.sketch, amount=-MIRROR1_COPY_3_REACH, mode=Mode.PRIVATE) & part.part
    add(mirror1_copy_3_tool1.solids().sort_by_distance((-274, -130, -112))[0], mode=Mode.SUBTRACT)

    # Fillet1 of Mirror1
    fillet1_of_mirror1_edges = [part.edges().sort_by_distance(p)[0] for p in [
        (-1417.972011062, 222.070408114, -300),
        (-1412.697280303, 66.365446203, 0),
    ]]
    fillet(fillet1_of_mirror1_edges, radius=FILLET1_OF_MIRROR1_R)

    # Fillet2 of Mirror1
    fillet2_of_mirror1_edges = [part.edges().sort_by_distance(p)[0] for p in [
        (-1409.474018844, -28.782121645, 0),
        (-1409.474018844, -28.782121645, -300),
        (-1419.46828571, -29.120691888, -150),
        (-1423.299286815, 83.966763846, -300),
        (-1425.207363331, 140.291341308, -143.08689544),
        (-1420.925657974, 13.899530985, 0),
        (-1422.646706073, 64.703210087, -2.180160524),
        (-1427.564329538, 209.86670927, -292.787921147),
    ]]
    fillet(fillet2_of_mirror1_edges, radius=FILLET2_OF_MIRROR1_R)


solid = part.part
